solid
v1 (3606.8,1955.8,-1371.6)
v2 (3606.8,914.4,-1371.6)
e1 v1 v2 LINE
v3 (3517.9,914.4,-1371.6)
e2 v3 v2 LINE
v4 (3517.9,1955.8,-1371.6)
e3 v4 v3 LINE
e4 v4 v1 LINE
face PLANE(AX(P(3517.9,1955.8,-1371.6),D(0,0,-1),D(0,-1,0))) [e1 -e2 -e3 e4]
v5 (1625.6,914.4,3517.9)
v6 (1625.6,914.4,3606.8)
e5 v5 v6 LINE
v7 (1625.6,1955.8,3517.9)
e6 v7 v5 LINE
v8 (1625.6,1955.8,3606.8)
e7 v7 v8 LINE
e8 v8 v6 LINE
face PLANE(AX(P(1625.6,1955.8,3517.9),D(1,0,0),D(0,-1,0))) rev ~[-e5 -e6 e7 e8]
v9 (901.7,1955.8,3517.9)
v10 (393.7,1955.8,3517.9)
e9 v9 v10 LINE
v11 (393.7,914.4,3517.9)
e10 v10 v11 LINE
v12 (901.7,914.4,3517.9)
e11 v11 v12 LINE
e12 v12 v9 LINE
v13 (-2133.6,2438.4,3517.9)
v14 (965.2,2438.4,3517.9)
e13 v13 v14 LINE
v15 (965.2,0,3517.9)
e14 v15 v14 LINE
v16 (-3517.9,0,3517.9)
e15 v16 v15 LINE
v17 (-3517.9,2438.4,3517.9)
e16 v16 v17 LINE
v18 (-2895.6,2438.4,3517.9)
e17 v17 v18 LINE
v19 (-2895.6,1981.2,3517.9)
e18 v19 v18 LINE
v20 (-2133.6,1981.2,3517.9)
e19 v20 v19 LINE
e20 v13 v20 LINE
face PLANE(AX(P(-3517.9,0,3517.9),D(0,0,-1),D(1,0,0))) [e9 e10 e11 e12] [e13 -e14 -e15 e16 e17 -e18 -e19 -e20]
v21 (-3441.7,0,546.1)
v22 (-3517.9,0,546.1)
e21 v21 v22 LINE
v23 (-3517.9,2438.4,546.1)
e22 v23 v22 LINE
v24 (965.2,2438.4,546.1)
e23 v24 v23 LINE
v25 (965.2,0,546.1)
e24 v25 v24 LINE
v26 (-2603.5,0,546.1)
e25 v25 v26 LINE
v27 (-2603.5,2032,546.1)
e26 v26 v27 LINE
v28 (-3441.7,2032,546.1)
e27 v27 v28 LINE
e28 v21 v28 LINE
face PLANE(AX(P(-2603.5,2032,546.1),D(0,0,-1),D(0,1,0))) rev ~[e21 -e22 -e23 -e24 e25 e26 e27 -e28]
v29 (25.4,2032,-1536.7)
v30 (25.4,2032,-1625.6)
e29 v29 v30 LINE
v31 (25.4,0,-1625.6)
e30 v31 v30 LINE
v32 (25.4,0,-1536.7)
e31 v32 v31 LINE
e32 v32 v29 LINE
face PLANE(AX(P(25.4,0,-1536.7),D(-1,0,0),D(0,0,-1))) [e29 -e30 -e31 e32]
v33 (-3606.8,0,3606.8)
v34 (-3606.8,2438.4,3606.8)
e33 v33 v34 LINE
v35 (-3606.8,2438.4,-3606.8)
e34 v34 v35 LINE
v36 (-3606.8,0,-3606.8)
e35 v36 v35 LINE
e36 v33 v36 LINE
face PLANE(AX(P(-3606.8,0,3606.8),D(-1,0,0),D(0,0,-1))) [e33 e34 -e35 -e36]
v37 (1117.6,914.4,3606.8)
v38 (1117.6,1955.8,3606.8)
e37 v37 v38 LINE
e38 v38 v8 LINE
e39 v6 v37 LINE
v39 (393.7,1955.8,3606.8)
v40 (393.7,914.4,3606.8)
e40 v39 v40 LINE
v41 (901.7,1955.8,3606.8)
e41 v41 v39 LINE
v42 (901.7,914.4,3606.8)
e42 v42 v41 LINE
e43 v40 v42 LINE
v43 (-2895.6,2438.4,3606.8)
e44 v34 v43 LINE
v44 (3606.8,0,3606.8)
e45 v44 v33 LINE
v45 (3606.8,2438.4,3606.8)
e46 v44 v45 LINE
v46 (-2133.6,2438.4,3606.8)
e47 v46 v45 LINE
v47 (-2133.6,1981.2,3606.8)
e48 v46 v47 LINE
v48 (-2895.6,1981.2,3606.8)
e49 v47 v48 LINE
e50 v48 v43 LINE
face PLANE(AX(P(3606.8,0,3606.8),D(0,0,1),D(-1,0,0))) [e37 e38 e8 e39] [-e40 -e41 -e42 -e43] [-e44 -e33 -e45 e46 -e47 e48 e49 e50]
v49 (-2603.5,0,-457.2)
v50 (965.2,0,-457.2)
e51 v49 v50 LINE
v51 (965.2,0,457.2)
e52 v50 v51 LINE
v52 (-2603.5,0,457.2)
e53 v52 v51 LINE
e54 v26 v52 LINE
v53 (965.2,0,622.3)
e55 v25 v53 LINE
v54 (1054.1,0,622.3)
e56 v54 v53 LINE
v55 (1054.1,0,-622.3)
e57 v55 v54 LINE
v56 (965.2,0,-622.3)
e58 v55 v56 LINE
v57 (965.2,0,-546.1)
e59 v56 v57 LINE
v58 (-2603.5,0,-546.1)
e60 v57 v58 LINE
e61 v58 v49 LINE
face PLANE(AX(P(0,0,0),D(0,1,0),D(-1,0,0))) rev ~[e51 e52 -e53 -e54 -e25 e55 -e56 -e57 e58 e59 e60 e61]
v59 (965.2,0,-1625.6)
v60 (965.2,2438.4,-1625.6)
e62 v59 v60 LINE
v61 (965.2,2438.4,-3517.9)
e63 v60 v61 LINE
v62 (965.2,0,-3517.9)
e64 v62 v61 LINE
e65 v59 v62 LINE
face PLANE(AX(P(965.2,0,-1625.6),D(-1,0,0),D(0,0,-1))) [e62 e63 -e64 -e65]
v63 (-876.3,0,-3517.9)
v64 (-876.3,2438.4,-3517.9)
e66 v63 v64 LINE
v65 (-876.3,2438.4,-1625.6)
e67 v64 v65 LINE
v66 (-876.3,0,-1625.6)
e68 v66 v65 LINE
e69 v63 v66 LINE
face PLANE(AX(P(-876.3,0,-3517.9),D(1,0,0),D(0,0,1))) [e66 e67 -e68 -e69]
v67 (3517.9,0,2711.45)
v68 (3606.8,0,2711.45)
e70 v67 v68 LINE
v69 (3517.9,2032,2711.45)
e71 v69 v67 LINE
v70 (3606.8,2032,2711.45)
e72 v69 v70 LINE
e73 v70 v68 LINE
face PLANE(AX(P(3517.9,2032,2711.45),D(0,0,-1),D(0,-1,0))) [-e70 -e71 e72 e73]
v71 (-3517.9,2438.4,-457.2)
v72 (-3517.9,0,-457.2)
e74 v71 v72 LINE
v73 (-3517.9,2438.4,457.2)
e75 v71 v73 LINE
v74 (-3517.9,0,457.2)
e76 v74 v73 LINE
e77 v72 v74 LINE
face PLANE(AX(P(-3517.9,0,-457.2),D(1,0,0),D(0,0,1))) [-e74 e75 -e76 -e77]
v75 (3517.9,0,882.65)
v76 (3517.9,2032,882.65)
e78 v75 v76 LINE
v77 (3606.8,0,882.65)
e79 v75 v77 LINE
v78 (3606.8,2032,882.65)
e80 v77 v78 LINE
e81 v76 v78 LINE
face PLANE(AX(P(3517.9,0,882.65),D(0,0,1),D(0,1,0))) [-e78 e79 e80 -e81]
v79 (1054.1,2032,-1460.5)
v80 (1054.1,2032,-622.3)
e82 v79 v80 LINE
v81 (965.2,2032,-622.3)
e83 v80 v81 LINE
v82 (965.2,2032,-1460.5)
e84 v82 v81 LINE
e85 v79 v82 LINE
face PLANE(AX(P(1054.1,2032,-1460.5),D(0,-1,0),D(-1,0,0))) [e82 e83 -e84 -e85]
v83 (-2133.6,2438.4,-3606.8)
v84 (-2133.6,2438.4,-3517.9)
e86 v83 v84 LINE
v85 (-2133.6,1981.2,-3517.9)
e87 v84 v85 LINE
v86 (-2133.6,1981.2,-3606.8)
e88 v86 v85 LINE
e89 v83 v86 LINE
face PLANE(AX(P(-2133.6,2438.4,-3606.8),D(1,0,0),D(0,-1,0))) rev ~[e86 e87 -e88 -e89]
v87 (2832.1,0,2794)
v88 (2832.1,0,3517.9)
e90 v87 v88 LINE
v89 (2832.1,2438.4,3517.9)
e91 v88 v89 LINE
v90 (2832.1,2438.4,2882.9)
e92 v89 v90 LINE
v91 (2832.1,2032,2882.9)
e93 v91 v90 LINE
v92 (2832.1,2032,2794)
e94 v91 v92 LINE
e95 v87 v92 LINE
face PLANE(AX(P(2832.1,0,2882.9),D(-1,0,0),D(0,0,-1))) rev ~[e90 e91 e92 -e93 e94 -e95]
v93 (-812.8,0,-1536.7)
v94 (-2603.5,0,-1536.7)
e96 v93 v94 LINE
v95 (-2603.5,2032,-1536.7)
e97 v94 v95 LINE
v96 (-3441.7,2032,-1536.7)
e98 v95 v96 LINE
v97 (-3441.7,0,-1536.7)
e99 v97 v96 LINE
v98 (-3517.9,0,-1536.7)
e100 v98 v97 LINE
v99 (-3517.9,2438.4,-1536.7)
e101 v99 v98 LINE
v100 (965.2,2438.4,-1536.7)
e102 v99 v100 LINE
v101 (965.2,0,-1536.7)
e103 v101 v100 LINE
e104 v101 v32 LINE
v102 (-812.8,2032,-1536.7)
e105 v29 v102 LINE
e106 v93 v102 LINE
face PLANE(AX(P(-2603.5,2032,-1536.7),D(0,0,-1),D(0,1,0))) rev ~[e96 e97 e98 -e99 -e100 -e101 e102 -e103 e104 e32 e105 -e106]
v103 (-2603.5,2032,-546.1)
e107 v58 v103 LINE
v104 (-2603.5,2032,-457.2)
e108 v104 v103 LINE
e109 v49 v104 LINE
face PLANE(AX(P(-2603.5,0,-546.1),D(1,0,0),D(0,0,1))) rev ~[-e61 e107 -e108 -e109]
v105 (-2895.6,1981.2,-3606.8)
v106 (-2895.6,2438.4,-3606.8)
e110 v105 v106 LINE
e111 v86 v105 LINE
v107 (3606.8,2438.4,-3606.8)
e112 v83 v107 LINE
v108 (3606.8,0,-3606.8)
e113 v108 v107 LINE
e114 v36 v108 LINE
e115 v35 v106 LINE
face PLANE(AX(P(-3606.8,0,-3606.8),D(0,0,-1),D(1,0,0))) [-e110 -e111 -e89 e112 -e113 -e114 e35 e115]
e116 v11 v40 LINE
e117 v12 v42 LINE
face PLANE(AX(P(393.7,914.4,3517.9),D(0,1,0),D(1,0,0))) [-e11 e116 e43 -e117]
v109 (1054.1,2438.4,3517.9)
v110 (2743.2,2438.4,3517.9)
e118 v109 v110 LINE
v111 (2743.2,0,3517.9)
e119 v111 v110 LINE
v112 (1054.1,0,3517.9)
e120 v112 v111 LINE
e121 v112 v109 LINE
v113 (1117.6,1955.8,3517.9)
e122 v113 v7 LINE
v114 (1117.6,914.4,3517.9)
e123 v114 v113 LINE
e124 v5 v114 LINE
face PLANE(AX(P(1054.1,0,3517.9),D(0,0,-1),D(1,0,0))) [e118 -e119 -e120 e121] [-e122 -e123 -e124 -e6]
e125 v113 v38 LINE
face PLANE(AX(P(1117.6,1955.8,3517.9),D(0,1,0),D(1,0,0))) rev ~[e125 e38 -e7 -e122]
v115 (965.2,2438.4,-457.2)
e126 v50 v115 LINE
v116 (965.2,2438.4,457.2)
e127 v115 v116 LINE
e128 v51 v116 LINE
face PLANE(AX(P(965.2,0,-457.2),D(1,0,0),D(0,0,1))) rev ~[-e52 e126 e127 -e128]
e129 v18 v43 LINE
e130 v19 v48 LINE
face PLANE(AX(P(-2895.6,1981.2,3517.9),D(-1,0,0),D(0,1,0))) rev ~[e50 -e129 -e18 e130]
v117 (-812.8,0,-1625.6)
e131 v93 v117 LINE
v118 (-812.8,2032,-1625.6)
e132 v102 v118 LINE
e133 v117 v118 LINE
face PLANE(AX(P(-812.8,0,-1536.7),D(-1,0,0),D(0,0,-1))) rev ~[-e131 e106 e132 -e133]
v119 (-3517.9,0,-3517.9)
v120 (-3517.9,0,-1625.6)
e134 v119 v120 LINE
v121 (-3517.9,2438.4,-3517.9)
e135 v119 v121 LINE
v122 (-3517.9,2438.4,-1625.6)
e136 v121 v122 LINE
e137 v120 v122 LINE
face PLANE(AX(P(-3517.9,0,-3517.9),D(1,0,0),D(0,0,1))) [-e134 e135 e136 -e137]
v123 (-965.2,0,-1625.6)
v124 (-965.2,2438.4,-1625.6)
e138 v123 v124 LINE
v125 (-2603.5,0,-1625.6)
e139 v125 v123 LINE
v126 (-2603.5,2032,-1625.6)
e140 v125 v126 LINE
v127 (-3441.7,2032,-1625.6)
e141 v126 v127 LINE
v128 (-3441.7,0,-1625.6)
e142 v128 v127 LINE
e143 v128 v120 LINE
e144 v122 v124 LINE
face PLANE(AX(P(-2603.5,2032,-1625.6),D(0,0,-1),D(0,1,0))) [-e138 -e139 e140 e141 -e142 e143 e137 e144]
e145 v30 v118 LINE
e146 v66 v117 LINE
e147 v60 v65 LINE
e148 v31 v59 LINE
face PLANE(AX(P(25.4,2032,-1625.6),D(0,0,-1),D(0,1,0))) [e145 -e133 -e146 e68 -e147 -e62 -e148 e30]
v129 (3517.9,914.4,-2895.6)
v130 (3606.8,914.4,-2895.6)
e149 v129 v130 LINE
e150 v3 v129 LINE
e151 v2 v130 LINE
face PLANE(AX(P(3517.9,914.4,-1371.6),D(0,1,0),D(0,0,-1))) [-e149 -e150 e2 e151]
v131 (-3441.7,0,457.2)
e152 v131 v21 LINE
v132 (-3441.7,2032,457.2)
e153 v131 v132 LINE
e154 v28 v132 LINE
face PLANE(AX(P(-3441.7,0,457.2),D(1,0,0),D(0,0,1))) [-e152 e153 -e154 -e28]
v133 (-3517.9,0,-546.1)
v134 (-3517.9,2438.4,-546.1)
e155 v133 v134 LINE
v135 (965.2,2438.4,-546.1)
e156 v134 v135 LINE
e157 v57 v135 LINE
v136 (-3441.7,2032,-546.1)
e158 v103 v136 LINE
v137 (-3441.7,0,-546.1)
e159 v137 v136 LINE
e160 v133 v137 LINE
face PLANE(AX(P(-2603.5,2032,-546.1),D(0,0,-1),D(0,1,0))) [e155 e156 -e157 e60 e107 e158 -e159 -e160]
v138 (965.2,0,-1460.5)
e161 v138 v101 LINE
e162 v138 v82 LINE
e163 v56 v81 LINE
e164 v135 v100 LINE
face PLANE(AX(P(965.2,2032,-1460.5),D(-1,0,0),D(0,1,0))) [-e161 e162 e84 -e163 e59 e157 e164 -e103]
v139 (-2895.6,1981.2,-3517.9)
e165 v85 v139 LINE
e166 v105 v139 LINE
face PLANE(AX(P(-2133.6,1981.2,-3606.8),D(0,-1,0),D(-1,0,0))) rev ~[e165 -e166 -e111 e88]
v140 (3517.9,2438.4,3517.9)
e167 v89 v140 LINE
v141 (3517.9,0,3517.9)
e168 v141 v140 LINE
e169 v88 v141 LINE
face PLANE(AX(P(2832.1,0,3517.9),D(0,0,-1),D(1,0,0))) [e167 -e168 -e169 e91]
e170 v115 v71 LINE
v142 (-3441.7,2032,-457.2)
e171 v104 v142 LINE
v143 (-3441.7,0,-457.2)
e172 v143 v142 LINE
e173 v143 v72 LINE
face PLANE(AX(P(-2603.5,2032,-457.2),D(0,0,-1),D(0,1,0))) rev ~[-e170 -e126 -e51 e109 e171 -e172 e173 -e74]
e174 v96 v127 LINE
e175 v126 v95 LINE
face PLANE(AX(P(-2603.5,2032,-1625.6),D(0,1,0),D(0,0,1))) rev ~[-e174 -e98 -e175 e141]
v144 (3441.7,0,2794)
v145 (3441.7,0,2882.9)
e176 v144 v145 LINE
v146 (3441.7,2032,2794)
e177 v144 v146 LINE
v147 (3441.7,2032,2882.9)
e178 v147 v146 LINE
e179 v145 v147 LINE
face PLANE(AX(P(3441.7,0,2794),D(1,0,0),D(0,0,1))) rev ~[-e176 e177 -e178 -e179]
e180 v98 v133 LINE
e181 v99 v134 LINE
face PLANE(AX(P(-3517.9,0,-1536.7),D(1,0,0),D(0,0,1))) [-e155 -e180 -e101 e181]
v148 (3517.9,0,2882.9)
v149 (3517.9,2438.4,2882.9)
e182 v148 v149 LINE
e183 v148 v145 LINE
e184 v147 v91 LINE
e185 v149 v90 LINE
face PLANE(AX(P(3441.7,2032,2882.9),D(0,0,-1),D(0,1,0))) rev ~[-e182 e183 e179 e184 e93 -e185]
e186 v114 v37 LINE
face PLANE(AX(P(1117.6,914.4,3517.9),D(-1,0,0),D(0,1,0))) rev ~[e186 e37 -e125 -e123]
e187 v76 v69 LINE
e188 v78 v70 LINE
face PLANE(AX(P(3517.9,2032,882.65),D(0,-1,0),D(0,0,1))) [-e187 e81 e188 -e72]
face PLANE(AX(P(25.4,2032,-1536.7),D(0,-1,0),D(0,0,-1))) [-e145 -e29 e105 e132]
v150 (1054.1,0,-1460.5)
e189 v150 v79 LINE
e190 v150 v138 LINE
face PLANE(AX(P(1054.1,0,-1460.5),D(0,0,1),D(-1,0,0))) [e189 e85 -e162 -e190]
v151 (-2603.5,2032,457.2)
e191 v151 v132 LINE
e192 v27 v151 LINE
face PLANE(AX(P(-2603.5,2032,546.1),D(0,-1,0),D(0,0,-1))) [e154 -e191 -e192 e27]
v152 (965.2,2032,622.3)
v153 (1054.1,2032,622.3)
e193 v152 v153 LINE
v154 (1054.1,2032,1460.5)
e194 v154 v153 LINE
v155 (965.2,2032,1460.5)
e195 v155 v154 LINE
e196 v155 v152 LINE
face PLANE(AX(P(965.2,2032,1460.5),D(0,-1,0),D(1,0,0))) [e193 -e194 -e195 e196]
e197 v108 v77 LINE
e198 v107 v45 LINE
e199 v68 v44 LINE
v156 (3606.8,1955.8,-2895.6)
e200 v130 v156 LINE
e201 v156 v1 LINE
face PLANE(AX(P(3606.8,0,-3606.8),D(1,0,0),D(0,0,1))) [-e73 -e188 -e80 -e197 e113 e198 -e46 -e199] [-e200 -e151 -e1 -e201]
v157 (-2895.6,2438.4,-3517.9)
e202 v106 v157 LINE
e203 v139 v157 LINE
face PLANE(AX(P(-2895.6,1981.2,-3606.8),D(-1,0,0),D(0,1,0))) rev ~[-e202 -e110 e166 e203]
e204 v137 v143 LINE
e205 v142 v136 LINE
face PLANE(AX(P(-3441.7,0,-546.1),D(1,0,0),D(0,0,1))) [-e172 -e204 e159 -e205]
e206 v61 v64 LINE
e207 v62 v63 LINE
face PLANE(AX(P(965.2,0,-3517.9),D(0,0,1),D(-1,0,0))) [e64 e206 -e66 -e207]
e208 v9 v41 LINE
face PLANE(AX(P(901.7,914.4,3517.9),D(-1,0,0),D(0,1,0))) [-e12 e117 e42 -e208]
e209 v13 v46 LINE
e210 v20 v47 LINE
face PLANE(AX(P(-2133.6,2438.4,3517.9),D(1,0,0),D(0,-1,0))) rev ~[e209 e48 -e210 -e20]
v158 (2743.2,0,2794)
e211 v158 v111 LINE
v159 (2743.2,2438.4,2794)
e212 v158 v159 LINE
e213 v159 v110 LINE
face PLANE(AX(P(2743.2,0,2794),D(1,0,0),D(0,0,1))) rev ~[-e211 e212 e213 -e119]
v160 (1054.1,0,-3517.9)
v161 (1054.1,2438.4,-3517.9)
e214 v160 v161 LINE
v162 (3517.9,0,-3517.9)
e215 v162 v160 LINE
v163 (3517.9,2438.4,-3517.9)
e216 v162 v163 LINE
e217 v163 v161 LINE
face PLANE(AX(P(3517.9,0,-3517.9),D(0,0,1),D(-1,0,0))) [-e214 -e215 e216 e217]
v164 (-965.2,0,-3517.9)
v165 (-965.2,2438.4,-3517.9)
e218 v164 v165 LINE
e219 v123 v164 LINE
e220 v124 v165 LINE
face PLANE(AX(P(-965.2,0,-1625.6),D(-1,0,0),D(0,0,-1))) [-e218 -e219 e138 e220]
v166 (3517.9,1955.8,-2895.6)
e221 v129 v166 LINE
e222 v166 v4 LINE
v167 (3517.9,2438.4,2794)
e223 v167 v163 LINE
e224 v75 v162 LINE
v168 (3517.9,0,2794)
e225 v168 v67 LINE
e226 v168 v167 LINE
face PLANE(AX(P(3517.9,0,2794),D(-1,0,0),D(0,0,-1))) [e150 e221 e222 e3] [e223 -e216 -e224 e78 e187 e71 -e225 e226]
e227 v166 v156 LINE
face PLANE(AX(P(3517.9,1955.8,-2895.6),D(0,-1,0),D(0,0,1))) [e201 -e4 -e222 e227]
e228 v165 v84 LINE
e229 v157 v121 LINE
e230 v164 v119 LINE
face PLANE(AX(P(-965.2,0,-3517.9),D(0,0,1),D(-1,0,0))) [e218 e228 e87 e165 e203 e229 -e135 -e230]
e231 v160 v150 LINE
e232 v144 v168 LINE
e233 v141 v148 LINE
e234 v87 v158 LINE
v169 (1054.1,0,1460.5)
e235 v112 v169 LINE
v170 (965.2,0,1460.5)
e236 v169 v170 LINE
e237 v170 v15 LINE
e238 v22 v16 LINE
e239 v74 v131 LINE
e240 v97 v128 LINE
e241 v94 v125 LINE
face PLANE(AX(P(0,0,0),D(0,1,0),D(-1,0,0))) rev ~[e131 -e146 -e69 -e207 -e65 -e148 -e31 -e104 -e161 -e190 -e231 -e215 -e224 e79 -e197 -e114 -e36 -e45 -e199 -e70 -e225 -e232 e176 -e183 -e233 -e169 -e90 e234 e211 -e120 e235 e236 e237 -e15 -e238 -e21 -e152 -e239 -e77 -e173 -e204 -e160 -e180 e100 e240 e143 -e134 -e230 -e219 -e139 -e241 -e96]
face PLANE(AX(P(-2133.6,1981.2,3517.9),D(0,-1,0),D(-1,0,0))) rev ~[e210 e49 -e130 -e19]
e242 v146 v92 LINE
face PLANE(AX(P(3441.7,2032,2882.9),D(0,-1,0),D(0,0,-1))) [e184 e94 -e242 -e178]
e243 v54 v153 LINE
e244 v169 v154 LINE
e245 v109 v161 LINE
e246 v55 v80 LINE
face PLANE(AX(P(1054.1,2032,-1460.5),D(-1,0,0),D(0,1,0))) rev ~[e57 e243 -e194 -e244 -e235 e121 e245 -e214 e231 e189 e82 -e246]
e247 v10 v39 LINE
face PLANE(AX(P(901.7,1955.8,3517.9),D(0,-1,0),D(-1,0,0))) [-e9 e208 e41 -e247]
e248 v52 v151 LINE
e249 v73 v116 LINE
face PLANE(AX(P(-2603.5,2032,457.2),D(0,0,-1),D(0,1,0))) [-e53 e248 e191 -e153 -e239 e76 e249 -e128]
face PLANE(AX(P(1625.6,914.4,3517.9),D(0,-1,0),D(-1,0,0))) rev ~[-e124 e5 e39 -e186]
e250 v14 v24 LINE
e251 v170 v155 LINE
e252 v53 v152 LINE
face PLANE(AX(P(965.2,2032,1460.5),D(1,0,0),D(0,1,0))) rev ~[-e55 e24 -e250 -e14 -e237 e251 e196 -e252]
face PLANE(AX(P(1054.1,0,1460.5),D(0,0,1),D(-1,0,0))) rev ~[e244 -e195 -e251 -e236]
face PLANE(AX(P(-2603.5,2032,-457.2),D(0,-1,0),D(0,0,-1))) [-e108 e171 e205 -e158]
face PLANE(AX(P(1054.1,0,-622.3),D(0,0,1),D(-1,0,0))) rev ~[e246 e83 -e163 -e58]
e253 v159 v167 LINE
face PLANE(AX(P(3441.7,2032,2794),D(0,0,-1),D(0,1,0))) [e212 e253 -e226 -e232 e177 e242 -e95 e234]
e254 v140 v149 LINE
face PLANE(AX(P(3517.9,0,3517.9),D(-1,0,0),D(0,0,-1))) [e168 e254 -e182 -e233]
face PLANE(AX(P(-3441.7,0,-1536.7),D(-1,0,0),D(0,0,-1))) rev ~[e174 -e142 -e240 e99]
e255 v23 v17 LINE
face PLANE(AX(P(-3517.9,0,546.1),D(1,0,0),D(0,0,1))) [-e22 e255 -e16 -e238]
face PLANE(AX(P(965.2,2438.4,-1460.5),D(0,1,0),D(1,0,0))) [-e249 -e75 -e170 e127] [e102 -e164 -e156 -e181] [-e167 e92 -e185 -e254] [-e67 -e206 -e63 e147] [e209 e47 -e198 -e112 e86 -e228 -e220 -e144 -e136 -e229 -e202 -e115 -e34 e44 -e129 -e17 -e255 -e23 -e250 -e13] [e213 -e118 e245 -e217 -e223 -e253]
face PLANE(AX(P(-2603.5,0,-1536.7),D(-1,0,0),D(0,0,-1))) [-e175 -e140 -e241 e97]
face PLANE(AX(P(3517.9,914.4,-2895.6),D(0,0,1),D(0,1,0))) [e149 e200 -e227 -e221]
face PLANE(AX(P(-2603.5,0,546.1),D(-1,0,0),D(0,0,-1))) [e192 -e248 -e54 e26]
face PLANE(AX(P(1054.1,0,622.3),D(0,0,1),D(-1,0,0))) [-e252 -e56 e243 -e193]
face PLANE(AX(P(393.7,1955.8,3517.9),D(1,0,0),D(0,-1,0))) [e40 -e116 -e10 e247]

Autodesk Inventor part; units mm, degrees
ref_plane "YZ Plane" through (0, 0, 0) normal (1, 0, 0) x (0, 1, 0)
ref_plane "XZ Plane" through (0, 0, 0) normal (0, 1, 0) x (-1, 0, 0)
ref_plane "XY Plane" through (0, 0, 0) normal (0, 0, 1) x (1, 0, 0)
sketch "Sketch1" plane through (0, 0, 0) normal (0, 1, 0) x (-1, 0, 0)
  line L0 (-965.2, -546.1) -> (-965.2, -457.2)
  line L1 (-965.2, 457.2) -> (-965.2, 546.1)
  line L2 (-965.2, -622.3) -> (-965.2, 622.3)
  line L3 (-1054.1, 622.3) -> (-1054.1, -622.3)
  line L4 (-1054.1, -508) -> (-1054.1, -381)
  line L5 (-965.2, -1460.5) -> (-965.2, -3517.9)
  line L6 (-1054.1, -3517.9) -> (-1054.1, -1460.5)
  line L7 (-3606.8, -3606.8) -> (-3606.8, 3606.8)
  line L8 (-965.2, 1460.5) -> (-965.2, 3517.9)
  line L9 (-965.2, 3606.8) -> (-1054.1, 3606.8)
  line L10 (-1054.1, 1460.5) -> (-965.2, 1460.5)
  line L11 (-1054.1, 3517.9) -> (-1054.1, 1460.5)
  line L12 (-3606.8, 3606.8) -> (3606.8, 3606.8)
  line L13 (2603.5, -457.2) -> (-965.2, -457.2)
  line L14 (-965.2, -546.1) -> (2603.5, -546.1)
  line L15 (2603.5, -546.1) -> (2603.5, -457.2)
  line L16 (3606.8, 3606.8) -> (3606.8, -3606.8)
  line L17 (2603.5, 457.2) -> (-965.2, 457.2)
  line L18 (-965.2, 546.1) -> (2603.5, 546.1)
  line L19 (2603.5, 546.1) -> (2603.5, 457.2)
  line L20 (3606.8, -3606.8) -> (-3606.8, -3606.8)
  line L21 (-965.2, -1625.6) -> (-965.2, -1536.7)
  line L22 (2603.5, -1536.7) -> (2603.5, -1625.6)
  line L23 (-25.4, -1625.6) -> (-965.2, -1625.6)
  line L24 (-965.2, -1536.7) -> (-25.4, -1536.7)
  line L25 (-25.4, -1536.7) -> (-25.4, -1625.6)
  line L26 (812.8, -1536.7) -> (812.8, -1625.6)
  line L27 (876.3, -1625.6) -> (965.2, -1625.6)
  line L28 (812.8, -1536.7) -> (2603.5, -1536.7)
  line L29 (2603.5, -1625.6) -> (812.8, -1625.6)
  line L30 (876.3, -3517.9) -> (876.3, -1625.6)
  line L31 (965.2, -1625.6) -> (965.2, -3517.9)
  line L32 (-3517.9, -3517.9) -> (3517.9, -3517.9)
  line L33 (3517.9, -3517.9) -> (3517.9, 3517.9)
  line L34 (3517.9, 3517.9) -> (-3517.9, 3517.9)
  line L35 (-3517.9, 3517.9) -> (-3517.9, -3517.9)
  line L36 (-2832.1, 2882.9) -> (-2832.1, 2794)
  line L37 (-3517.9, 2794) -> (-3517.9, 2882.9)
  line L38 (-2743.2, 2794) -> (-2743.2, 3517.9)
  line L39 (-2743.2, 3517.9) -> (-2832.1, 3517.9)
  line L40 (-2832.1, 3517.9) -> (-2832.1, 2794)
  line L41 (876.3, -3517.9) -> (965.2, -3517.9)
  line L42 (-965.2, -3517.9) -> (-1054.1, -3517.9)
  line L43 (-3441.7, 2794) -> (-3441.7, 2882.9)
  line L44 (-3441.7, 2794) -> (-3517.9, 2794)
  line L45 (-3517.9, 2882.9) -> (-3441.7, 2882.9)
  line L46 (-2832.1, 2794) -> (-2743.2, 2794)
  line L47 (-1054.1, -1460.5) -> (-965.2, -1460.5)
  line L48 (-1054.1, -622.3) -> (-965.2, -622.3)
  line L49 (3517.9, -1536.7) -> (3441.7, -1536.7)
  line L50 (3441.7, -1536.7) -> (3441.7, -1625.6)
  line L51 (3441.7, -1625.6) -> (3517.9, -1625.6)
  line L52 (3517.9, -1625.6) -> (3517.9, -1536.7)
  line L53 (3517.9, -546.1) -> (3441.7, -546.1)
  line L54 (3441.7, -546.1) -> (3441.7, -457.2)
  line L55 (3441.7, -457.2) -> (3517.9, -457.2)
  line L56 (3517.9, -457.2) -> (3517.9, -546.1)
  line L57 (-1054.1, 622.3) -> (-965.2, 622.3)
  line L58 (3517.9, 457.2) -> (3441.7, 457.2)
  line L59 (3441.7, 457.2) -> (3441.7, 546.1)
  line L60 (3441.7, 546.1) -> (3517.9, 546.1)
  line L61 (3517.9, 546.1) -> (3517.9, 457.2)
  point P0 (-889, -3606.8)
  point P1 (-965.2, -1625.6)
  point P2 (723.9, -3606.8)
  point P3 (-800.1, -546.1)
  point P4 (-965.2, 457.2)
  point P5 (0, 0)
  point P6 (-2832.1, 3517.9)
  point P7 (-2743.2, 3517.9)
  point P8 (965.2, -3517.9)
  point P9 (-3517.9, 2882.9)
  point P10 (-3517.9, 2794)
  point P11 (3517.9, 546.1)
  dimension "d1" = 914.4
  dimension "d7" = 1841.5
  dimension "d8" = 838.2
  dimension "d16" = 7213.6
  dimension "d17" = 7213.6
  dimension "d22" = 457.2
  dimension "d32" = 3606.8
  dimension "d33" = 88.9
  dimension "d36" = 3606.8
  dimension "d37" = 88.9
  dimension "d38" = 3568.7
  dimension "d86" = 76.2
  dimension "d87" = 723.9
  dimension "d92" = 609.6
  dimension "d106" = 76.2
  dimension "d107" = 76.2
  dimension "d110" = 838.2
  dimension "d111" = 76.2
  dimension "d112" = 838.2
  dimension "d121" = 838.2
  dimension "d123" = 63.5
  dimension "d124" = 76.2
extrude "Extrusion1" add sketch "Sketch1" along normal blind 2438.4 contours L2 L48 L3 L57 L1 L0 | L0 L13 L15 L14 | L1 L18 L19 L17 | L5 L32 L6 L47 | L24 L25 L23 L5 | L30 L27 L31 L32 | L35 L45 L43 L44 | L29 L26 L28 L22 L27 | L51 L50 L49 L33 | L34 L38 L46 L36 L40 | L53 L54 L55 L33 | L34 L8 L10 L11 | L58 L59 L60 L33 | L7 L12 L9 L16 L20
sketch "Sketch2" plane through (3606.8, 0, -3606.8) normal (0, 0, -1) x (-1, 0, 0)
  line L0 (7213.6, 2438.4) -> (0, 2438.4) projected
  line L1 (6502.4, 2438.4) -> (5740.4, 2438.4)
  line L2 (5740.4, 2438.4) -> (5740.4, 1981.2)
  line L3 (5740.4, 1981.2) -> (6502.4, 1981.2)
  line L4 (6502.4, 1981.2) -> (6502.4, 2438.4)
  line L5 (7213.6, 0) -> (7213.6, 2438.4) projected
  point P0 (3606.8, 0)
  point P1 (5740.4, 2438.4)
  dimension "d41" = 711.2
  dimension "d42" = 762
  dimension "d43" = 457.2
extrude "Extrusion2" cut sketch "Sketch2" against normal up to surface (88.9 mm away)
sketch "Sketch3" plane through (965.2, 0, 3517.9) normal (0, 0, -1) x (-1, 0, 0)
  line L0 (63.5, 1955.8) -> (571.5, 1955.8)
  line L1 (571.5, 1955.8) -> (571.5, 914.4)
  line L2 (571.5, 914.4) -> (63.5, 914.4)
  line L3 (63.5, 914.4) -> (63.5, 1955.8)
  line L4 (0, 0) -> (-88.9, 0) projected
  line L5 (0, 0) -> (0, 2438.4) projected
  point P0 (4483.1, 0)
  dimension "d48" = 1041.4
  dimension "d49" = 508
  dimension "d50" = 914.4
  dimension "d51" = 63.5
extrude "Extrusion3" cut sketch "Sketch3" against normal up to surface (88.9 mm away)
sketch "Sketch4" plane through (965.2, 0, 3517.9) normal (0, 0, -1) x (-1, 0, 0)
  line L0 (3860.8, 2438.4) -> (3098.8, 2438.4)
  line L1 (3098.8, 2438.4) -> (3098.8, 1981.2)
  line L2 (3098.8, 1981.2) -> (3860.8, 1981.2)
  line L3 (3860.8, 1981.2) -> (3860.8, 2438.4)
  line L4 (4483.1, 0) -> (4483.1, 2438.4) projected
  line L5 (0, 2438.4) -> (-88.9, 2438.4) projected
  point P0 (965.2, 0)
  point P1 (4572, 2438.4)
  dimension "d55" = 457.2
  dimension "d56" = 762
  dimension "d85" = 711.2
extrude "Extrusion4" cut sketch "Sketch4" against normal up to surface (88.9 mm away)
sketch "Sketch5" plane through (2743.2, 0, 3517.9) normal (0, 0, -1) x (-1, 0, 0)
  line L0 (1625.6, 1955.8) -> (1117.6, 1955.8)
  line L1 (1117.6, 1955.8) -> (1117.6, 914.4)
  line L2 (1117.6, 914.4) -> (1625.6, 914.4)
  line L3 (1625.6, 914.4) -> (1625.6, 1955.8)
  line L4 (1689.1, 0) -> (1689.1, 2438.4) projected
  line L5 (0, 0) -> (1689.1, 0) projected
  point P0 (2743.2, 0)
  dimension "d60" = 63.5
  dimension "d61" = 914.4
  dimension "d62" = 508
  dimension "d63" = 1041.4
extrude "Extrusion5" cut sketch "Sketch5" against normal up to surface (88.9 mm away)
sketch "Sketch6" plane through (3517.9, 0, -3517.9) normal (-1, 0, 0) x (0, 0, 1)
  line L0 (6400.8, 0) -> (6311.9, 0) projected
  line L1 (6400.8, 0) -> (4400.55, 0)
  line L2 (4400.55, 0) -> (4400.55, 2032)
  line L3 (4400.55, 2032) -> (6229.35, 2032)
  line L4 (6311.9, 0) -> (6311.9, 2438.4) projected
  line L5 (6229.35, 2032) -> (6229.35, 0)
  point P0 (3517.9, 0)
  point P1 (0, 0)
  point P2 (4572, 0)
  point P3 (7035.8, 0)
  dimension "d68" = 1828.8
  dimension "d69" = 2032
  dimension "d122" = 82.55
extrude "Extrusion6" cut sketch "Sketch6" against normal up to surface (88.9 mm away)
sketch "Sketch7" plane through (3517.9, 0, 2794) normal (-1, 0, 0) x (0, 0, 1)
  line L0 (-5689.6, 1955.8) -> (-4165.6, 1955.8)
  line L1 (-4165.6, 1955.8) -> (-4165.6, 914.4)
  line L2 (-4165.6, 914.4) -> (-5689.6, 914.4)
  line L3 (-5689.6, 914.4) -> (-5689.6, 1955.8)
  line L4 (88.9, 0) -> (0, 0) projected
  line L5 (-6311.9, 0) -> (-6311.9, 2438.4) projected
  point P0 (-2794, 0)
  point P1 (-1911.35, 0)
  dimension "d74" = 1524
  dimension "d75" = 914.4
  dimension "d76" = 622.3
  dimension "d125" = 1041.4
extrude "Extrusion7" cut sketch "Sketch7" against normal up to surface (88.9 mm away)
sketch "Sketch8" plane through (25.4, 0, -1625.6) normal (-1, 0, 0) x (0, 0, 1)
  line L0 (0, 2438.4) -> (88.9, 2438.4) projected
  line L1 (88.9, 0) -> (88.9, 2438.4) projected
  line L2 (0, 2438.4) -> (88.9, 2438.4)
  line L3 (88.9, 2438.4) -> (88.9, 2032)
  line L4 (88.9, 2032) -> (0, 2032)
  line L5 (0, 2032) -> (0, 2438.4)
  point P0 (1625.6, 0)
  dimension "d79" = 406.4
extrude "Extrusion8" add sketch "Sketch8" along normal up to surface (838.2 mm away)
sketch "Sketch9" plane through (-2603.5, 0, -1625.6) normal (-1, 0, 0) x (0, 0, 1)
  line L0 (0, 0) -> (0, 2438.4) projected
  line L1 (88.9, 0) -> (88.9, 2438.4) projected
  line L2 (0, 2032) -> (88.9, 2032)
  line L3 (88.9, 2032) -> (88.9, 2438.4)
  line L4 (88.9, 2438.4) -> (0, 2438.4)
  line L5 (0, 2438.4) -> (0, 2032)
  point P0 (1625.6, 0)
  point P1 (88.9, 2032)
  point P2 (44.45, 2032)
  dimension "d84" = 406.4
extrude "Extrusion9" add sketch "Sketch9" along normal up to surface (914.4 mm away)
sketch "Sketch10" plane through (3441.7, 0, 2794) normal (-1, 0, 0) x (0, 0, 1)
  line L0 (88.9, 0) -> (88.9, 2438.4) projected
  line L1 (0, 0) -> (0, 2438.4) projected
  line L2 (88.9, 2032) -> (0, 2032)
  line L3 (0, 2032) -> (0, 2438.4)
  line L4 (0, 2438.4) -> (88.9, 2438.4)
  line L5 (88.9, 2438.4) -> (88.9, 2032)
  point P0 (-2794, 0)
  point P1 (0, 2032)
  dimension "d94" = 406.4
extrude "Extrusion10" add sketch "Sketch10" along normal up to surface (609.6 mm away)
sketch "Sketch11" plane through (-2603.5, 0, 457.2) normal (-1, 0, 0) x (0, 0, 1)
  line L0 (88.9, 0) -> (88.9, 2438.4) projected
  line L1 (0, 0) -> (0, 2438.4) projected
  line L2 (88.9, 2032) -> (0, 2032)
  line L3 (0, 2032) -> (0, 2438.4)
  line L4 (0, 2438.4) -> (88.9, 2438.4)
  line L5 (88.9, 2438.4) -> (88.9, 2032)
  point P0 (-457.2, 0)
  point P1 (0, 2032)
  dimension "d97" = 406.4
extrude "Extrusion11" add sketch "Sketch11" along normal up to surface (914.4 mm away)
sketch "Sketch12" plane through (-2603.5, 0, -546.1) normal (-1, 0, 0) x (0, 0, 1)
  line L0 (88.9, 0) -> (88.9, 2438.4) projected
  line L1 (0, 2438.4) -> (88.9, 2438.4) projected
  line L2 (88.9, 2032) -> (0, 2032)
  line L3 (0, 2032) -> (0, 2438.4)
  line L4 (0, 2438.4) -> (88.9, 2438.4)
  line L5 (88.9, 2438.4) -> (88.9, 2032)
  point P0 (546.1, 0)
  dimension "d100" = 406.4
extrude "Extrusion12" add sketch "Sketch12" along normal up to surface (914.4 mm away)
sketch "Sketch15" plane through (1054.1, 0, 1460.5) normal (0, 0, -1) x (-1, 0, 0)
  line L0 (88.9, 0) -> (88.9, 2438.4) projected
  line L1 (0, 2438.4) -> (88.9, 2438.4) projected
  line L2 (88.9, 2032) -> (0, 2032)
  line L3 (0, 2032) -> (0, 2438.4)
  line L4 (0, 2438.4) -> (88.9, 2438.4)
  line L5 (88.9, 2438.4) -> (88.9, 2032)
  point P0 (1054.1, 0)
  dimension "d115" = 406.4
extrude "Extrusion14" add sketch "Sketch15" along normal up to surface (838.2 mm away)
sketch "Sketch16" plane through (965.2, 0, -1460.5) normal (0, 0, 1) x (1, 0, 0)
  line L0 (0, 0) -> (0, 2438.4) projected
  line L1 (88.9, 0) -> (88.9, 2438.4) projected
  line L2 (0, 2438.4) -> (88.9, 2438.4)
  line L3 (88.9, 2438.4) -> (88.9, 2032)
  line L4 (88.9, 2032) -> (0, 2032)
  line L5 (0, 2032) -> (0, 2438.4)
  point P0 (-965.2, 0)
  point P1 (88.9, 2438.4)
  point P2 (0, 2032)
  dimension "d118" = 406.4
extrude "Extrusion15" add sketch "Sketch16" along normal up to surface (838.2 mm away)
properties part number "Walls--Interior--Basement"
